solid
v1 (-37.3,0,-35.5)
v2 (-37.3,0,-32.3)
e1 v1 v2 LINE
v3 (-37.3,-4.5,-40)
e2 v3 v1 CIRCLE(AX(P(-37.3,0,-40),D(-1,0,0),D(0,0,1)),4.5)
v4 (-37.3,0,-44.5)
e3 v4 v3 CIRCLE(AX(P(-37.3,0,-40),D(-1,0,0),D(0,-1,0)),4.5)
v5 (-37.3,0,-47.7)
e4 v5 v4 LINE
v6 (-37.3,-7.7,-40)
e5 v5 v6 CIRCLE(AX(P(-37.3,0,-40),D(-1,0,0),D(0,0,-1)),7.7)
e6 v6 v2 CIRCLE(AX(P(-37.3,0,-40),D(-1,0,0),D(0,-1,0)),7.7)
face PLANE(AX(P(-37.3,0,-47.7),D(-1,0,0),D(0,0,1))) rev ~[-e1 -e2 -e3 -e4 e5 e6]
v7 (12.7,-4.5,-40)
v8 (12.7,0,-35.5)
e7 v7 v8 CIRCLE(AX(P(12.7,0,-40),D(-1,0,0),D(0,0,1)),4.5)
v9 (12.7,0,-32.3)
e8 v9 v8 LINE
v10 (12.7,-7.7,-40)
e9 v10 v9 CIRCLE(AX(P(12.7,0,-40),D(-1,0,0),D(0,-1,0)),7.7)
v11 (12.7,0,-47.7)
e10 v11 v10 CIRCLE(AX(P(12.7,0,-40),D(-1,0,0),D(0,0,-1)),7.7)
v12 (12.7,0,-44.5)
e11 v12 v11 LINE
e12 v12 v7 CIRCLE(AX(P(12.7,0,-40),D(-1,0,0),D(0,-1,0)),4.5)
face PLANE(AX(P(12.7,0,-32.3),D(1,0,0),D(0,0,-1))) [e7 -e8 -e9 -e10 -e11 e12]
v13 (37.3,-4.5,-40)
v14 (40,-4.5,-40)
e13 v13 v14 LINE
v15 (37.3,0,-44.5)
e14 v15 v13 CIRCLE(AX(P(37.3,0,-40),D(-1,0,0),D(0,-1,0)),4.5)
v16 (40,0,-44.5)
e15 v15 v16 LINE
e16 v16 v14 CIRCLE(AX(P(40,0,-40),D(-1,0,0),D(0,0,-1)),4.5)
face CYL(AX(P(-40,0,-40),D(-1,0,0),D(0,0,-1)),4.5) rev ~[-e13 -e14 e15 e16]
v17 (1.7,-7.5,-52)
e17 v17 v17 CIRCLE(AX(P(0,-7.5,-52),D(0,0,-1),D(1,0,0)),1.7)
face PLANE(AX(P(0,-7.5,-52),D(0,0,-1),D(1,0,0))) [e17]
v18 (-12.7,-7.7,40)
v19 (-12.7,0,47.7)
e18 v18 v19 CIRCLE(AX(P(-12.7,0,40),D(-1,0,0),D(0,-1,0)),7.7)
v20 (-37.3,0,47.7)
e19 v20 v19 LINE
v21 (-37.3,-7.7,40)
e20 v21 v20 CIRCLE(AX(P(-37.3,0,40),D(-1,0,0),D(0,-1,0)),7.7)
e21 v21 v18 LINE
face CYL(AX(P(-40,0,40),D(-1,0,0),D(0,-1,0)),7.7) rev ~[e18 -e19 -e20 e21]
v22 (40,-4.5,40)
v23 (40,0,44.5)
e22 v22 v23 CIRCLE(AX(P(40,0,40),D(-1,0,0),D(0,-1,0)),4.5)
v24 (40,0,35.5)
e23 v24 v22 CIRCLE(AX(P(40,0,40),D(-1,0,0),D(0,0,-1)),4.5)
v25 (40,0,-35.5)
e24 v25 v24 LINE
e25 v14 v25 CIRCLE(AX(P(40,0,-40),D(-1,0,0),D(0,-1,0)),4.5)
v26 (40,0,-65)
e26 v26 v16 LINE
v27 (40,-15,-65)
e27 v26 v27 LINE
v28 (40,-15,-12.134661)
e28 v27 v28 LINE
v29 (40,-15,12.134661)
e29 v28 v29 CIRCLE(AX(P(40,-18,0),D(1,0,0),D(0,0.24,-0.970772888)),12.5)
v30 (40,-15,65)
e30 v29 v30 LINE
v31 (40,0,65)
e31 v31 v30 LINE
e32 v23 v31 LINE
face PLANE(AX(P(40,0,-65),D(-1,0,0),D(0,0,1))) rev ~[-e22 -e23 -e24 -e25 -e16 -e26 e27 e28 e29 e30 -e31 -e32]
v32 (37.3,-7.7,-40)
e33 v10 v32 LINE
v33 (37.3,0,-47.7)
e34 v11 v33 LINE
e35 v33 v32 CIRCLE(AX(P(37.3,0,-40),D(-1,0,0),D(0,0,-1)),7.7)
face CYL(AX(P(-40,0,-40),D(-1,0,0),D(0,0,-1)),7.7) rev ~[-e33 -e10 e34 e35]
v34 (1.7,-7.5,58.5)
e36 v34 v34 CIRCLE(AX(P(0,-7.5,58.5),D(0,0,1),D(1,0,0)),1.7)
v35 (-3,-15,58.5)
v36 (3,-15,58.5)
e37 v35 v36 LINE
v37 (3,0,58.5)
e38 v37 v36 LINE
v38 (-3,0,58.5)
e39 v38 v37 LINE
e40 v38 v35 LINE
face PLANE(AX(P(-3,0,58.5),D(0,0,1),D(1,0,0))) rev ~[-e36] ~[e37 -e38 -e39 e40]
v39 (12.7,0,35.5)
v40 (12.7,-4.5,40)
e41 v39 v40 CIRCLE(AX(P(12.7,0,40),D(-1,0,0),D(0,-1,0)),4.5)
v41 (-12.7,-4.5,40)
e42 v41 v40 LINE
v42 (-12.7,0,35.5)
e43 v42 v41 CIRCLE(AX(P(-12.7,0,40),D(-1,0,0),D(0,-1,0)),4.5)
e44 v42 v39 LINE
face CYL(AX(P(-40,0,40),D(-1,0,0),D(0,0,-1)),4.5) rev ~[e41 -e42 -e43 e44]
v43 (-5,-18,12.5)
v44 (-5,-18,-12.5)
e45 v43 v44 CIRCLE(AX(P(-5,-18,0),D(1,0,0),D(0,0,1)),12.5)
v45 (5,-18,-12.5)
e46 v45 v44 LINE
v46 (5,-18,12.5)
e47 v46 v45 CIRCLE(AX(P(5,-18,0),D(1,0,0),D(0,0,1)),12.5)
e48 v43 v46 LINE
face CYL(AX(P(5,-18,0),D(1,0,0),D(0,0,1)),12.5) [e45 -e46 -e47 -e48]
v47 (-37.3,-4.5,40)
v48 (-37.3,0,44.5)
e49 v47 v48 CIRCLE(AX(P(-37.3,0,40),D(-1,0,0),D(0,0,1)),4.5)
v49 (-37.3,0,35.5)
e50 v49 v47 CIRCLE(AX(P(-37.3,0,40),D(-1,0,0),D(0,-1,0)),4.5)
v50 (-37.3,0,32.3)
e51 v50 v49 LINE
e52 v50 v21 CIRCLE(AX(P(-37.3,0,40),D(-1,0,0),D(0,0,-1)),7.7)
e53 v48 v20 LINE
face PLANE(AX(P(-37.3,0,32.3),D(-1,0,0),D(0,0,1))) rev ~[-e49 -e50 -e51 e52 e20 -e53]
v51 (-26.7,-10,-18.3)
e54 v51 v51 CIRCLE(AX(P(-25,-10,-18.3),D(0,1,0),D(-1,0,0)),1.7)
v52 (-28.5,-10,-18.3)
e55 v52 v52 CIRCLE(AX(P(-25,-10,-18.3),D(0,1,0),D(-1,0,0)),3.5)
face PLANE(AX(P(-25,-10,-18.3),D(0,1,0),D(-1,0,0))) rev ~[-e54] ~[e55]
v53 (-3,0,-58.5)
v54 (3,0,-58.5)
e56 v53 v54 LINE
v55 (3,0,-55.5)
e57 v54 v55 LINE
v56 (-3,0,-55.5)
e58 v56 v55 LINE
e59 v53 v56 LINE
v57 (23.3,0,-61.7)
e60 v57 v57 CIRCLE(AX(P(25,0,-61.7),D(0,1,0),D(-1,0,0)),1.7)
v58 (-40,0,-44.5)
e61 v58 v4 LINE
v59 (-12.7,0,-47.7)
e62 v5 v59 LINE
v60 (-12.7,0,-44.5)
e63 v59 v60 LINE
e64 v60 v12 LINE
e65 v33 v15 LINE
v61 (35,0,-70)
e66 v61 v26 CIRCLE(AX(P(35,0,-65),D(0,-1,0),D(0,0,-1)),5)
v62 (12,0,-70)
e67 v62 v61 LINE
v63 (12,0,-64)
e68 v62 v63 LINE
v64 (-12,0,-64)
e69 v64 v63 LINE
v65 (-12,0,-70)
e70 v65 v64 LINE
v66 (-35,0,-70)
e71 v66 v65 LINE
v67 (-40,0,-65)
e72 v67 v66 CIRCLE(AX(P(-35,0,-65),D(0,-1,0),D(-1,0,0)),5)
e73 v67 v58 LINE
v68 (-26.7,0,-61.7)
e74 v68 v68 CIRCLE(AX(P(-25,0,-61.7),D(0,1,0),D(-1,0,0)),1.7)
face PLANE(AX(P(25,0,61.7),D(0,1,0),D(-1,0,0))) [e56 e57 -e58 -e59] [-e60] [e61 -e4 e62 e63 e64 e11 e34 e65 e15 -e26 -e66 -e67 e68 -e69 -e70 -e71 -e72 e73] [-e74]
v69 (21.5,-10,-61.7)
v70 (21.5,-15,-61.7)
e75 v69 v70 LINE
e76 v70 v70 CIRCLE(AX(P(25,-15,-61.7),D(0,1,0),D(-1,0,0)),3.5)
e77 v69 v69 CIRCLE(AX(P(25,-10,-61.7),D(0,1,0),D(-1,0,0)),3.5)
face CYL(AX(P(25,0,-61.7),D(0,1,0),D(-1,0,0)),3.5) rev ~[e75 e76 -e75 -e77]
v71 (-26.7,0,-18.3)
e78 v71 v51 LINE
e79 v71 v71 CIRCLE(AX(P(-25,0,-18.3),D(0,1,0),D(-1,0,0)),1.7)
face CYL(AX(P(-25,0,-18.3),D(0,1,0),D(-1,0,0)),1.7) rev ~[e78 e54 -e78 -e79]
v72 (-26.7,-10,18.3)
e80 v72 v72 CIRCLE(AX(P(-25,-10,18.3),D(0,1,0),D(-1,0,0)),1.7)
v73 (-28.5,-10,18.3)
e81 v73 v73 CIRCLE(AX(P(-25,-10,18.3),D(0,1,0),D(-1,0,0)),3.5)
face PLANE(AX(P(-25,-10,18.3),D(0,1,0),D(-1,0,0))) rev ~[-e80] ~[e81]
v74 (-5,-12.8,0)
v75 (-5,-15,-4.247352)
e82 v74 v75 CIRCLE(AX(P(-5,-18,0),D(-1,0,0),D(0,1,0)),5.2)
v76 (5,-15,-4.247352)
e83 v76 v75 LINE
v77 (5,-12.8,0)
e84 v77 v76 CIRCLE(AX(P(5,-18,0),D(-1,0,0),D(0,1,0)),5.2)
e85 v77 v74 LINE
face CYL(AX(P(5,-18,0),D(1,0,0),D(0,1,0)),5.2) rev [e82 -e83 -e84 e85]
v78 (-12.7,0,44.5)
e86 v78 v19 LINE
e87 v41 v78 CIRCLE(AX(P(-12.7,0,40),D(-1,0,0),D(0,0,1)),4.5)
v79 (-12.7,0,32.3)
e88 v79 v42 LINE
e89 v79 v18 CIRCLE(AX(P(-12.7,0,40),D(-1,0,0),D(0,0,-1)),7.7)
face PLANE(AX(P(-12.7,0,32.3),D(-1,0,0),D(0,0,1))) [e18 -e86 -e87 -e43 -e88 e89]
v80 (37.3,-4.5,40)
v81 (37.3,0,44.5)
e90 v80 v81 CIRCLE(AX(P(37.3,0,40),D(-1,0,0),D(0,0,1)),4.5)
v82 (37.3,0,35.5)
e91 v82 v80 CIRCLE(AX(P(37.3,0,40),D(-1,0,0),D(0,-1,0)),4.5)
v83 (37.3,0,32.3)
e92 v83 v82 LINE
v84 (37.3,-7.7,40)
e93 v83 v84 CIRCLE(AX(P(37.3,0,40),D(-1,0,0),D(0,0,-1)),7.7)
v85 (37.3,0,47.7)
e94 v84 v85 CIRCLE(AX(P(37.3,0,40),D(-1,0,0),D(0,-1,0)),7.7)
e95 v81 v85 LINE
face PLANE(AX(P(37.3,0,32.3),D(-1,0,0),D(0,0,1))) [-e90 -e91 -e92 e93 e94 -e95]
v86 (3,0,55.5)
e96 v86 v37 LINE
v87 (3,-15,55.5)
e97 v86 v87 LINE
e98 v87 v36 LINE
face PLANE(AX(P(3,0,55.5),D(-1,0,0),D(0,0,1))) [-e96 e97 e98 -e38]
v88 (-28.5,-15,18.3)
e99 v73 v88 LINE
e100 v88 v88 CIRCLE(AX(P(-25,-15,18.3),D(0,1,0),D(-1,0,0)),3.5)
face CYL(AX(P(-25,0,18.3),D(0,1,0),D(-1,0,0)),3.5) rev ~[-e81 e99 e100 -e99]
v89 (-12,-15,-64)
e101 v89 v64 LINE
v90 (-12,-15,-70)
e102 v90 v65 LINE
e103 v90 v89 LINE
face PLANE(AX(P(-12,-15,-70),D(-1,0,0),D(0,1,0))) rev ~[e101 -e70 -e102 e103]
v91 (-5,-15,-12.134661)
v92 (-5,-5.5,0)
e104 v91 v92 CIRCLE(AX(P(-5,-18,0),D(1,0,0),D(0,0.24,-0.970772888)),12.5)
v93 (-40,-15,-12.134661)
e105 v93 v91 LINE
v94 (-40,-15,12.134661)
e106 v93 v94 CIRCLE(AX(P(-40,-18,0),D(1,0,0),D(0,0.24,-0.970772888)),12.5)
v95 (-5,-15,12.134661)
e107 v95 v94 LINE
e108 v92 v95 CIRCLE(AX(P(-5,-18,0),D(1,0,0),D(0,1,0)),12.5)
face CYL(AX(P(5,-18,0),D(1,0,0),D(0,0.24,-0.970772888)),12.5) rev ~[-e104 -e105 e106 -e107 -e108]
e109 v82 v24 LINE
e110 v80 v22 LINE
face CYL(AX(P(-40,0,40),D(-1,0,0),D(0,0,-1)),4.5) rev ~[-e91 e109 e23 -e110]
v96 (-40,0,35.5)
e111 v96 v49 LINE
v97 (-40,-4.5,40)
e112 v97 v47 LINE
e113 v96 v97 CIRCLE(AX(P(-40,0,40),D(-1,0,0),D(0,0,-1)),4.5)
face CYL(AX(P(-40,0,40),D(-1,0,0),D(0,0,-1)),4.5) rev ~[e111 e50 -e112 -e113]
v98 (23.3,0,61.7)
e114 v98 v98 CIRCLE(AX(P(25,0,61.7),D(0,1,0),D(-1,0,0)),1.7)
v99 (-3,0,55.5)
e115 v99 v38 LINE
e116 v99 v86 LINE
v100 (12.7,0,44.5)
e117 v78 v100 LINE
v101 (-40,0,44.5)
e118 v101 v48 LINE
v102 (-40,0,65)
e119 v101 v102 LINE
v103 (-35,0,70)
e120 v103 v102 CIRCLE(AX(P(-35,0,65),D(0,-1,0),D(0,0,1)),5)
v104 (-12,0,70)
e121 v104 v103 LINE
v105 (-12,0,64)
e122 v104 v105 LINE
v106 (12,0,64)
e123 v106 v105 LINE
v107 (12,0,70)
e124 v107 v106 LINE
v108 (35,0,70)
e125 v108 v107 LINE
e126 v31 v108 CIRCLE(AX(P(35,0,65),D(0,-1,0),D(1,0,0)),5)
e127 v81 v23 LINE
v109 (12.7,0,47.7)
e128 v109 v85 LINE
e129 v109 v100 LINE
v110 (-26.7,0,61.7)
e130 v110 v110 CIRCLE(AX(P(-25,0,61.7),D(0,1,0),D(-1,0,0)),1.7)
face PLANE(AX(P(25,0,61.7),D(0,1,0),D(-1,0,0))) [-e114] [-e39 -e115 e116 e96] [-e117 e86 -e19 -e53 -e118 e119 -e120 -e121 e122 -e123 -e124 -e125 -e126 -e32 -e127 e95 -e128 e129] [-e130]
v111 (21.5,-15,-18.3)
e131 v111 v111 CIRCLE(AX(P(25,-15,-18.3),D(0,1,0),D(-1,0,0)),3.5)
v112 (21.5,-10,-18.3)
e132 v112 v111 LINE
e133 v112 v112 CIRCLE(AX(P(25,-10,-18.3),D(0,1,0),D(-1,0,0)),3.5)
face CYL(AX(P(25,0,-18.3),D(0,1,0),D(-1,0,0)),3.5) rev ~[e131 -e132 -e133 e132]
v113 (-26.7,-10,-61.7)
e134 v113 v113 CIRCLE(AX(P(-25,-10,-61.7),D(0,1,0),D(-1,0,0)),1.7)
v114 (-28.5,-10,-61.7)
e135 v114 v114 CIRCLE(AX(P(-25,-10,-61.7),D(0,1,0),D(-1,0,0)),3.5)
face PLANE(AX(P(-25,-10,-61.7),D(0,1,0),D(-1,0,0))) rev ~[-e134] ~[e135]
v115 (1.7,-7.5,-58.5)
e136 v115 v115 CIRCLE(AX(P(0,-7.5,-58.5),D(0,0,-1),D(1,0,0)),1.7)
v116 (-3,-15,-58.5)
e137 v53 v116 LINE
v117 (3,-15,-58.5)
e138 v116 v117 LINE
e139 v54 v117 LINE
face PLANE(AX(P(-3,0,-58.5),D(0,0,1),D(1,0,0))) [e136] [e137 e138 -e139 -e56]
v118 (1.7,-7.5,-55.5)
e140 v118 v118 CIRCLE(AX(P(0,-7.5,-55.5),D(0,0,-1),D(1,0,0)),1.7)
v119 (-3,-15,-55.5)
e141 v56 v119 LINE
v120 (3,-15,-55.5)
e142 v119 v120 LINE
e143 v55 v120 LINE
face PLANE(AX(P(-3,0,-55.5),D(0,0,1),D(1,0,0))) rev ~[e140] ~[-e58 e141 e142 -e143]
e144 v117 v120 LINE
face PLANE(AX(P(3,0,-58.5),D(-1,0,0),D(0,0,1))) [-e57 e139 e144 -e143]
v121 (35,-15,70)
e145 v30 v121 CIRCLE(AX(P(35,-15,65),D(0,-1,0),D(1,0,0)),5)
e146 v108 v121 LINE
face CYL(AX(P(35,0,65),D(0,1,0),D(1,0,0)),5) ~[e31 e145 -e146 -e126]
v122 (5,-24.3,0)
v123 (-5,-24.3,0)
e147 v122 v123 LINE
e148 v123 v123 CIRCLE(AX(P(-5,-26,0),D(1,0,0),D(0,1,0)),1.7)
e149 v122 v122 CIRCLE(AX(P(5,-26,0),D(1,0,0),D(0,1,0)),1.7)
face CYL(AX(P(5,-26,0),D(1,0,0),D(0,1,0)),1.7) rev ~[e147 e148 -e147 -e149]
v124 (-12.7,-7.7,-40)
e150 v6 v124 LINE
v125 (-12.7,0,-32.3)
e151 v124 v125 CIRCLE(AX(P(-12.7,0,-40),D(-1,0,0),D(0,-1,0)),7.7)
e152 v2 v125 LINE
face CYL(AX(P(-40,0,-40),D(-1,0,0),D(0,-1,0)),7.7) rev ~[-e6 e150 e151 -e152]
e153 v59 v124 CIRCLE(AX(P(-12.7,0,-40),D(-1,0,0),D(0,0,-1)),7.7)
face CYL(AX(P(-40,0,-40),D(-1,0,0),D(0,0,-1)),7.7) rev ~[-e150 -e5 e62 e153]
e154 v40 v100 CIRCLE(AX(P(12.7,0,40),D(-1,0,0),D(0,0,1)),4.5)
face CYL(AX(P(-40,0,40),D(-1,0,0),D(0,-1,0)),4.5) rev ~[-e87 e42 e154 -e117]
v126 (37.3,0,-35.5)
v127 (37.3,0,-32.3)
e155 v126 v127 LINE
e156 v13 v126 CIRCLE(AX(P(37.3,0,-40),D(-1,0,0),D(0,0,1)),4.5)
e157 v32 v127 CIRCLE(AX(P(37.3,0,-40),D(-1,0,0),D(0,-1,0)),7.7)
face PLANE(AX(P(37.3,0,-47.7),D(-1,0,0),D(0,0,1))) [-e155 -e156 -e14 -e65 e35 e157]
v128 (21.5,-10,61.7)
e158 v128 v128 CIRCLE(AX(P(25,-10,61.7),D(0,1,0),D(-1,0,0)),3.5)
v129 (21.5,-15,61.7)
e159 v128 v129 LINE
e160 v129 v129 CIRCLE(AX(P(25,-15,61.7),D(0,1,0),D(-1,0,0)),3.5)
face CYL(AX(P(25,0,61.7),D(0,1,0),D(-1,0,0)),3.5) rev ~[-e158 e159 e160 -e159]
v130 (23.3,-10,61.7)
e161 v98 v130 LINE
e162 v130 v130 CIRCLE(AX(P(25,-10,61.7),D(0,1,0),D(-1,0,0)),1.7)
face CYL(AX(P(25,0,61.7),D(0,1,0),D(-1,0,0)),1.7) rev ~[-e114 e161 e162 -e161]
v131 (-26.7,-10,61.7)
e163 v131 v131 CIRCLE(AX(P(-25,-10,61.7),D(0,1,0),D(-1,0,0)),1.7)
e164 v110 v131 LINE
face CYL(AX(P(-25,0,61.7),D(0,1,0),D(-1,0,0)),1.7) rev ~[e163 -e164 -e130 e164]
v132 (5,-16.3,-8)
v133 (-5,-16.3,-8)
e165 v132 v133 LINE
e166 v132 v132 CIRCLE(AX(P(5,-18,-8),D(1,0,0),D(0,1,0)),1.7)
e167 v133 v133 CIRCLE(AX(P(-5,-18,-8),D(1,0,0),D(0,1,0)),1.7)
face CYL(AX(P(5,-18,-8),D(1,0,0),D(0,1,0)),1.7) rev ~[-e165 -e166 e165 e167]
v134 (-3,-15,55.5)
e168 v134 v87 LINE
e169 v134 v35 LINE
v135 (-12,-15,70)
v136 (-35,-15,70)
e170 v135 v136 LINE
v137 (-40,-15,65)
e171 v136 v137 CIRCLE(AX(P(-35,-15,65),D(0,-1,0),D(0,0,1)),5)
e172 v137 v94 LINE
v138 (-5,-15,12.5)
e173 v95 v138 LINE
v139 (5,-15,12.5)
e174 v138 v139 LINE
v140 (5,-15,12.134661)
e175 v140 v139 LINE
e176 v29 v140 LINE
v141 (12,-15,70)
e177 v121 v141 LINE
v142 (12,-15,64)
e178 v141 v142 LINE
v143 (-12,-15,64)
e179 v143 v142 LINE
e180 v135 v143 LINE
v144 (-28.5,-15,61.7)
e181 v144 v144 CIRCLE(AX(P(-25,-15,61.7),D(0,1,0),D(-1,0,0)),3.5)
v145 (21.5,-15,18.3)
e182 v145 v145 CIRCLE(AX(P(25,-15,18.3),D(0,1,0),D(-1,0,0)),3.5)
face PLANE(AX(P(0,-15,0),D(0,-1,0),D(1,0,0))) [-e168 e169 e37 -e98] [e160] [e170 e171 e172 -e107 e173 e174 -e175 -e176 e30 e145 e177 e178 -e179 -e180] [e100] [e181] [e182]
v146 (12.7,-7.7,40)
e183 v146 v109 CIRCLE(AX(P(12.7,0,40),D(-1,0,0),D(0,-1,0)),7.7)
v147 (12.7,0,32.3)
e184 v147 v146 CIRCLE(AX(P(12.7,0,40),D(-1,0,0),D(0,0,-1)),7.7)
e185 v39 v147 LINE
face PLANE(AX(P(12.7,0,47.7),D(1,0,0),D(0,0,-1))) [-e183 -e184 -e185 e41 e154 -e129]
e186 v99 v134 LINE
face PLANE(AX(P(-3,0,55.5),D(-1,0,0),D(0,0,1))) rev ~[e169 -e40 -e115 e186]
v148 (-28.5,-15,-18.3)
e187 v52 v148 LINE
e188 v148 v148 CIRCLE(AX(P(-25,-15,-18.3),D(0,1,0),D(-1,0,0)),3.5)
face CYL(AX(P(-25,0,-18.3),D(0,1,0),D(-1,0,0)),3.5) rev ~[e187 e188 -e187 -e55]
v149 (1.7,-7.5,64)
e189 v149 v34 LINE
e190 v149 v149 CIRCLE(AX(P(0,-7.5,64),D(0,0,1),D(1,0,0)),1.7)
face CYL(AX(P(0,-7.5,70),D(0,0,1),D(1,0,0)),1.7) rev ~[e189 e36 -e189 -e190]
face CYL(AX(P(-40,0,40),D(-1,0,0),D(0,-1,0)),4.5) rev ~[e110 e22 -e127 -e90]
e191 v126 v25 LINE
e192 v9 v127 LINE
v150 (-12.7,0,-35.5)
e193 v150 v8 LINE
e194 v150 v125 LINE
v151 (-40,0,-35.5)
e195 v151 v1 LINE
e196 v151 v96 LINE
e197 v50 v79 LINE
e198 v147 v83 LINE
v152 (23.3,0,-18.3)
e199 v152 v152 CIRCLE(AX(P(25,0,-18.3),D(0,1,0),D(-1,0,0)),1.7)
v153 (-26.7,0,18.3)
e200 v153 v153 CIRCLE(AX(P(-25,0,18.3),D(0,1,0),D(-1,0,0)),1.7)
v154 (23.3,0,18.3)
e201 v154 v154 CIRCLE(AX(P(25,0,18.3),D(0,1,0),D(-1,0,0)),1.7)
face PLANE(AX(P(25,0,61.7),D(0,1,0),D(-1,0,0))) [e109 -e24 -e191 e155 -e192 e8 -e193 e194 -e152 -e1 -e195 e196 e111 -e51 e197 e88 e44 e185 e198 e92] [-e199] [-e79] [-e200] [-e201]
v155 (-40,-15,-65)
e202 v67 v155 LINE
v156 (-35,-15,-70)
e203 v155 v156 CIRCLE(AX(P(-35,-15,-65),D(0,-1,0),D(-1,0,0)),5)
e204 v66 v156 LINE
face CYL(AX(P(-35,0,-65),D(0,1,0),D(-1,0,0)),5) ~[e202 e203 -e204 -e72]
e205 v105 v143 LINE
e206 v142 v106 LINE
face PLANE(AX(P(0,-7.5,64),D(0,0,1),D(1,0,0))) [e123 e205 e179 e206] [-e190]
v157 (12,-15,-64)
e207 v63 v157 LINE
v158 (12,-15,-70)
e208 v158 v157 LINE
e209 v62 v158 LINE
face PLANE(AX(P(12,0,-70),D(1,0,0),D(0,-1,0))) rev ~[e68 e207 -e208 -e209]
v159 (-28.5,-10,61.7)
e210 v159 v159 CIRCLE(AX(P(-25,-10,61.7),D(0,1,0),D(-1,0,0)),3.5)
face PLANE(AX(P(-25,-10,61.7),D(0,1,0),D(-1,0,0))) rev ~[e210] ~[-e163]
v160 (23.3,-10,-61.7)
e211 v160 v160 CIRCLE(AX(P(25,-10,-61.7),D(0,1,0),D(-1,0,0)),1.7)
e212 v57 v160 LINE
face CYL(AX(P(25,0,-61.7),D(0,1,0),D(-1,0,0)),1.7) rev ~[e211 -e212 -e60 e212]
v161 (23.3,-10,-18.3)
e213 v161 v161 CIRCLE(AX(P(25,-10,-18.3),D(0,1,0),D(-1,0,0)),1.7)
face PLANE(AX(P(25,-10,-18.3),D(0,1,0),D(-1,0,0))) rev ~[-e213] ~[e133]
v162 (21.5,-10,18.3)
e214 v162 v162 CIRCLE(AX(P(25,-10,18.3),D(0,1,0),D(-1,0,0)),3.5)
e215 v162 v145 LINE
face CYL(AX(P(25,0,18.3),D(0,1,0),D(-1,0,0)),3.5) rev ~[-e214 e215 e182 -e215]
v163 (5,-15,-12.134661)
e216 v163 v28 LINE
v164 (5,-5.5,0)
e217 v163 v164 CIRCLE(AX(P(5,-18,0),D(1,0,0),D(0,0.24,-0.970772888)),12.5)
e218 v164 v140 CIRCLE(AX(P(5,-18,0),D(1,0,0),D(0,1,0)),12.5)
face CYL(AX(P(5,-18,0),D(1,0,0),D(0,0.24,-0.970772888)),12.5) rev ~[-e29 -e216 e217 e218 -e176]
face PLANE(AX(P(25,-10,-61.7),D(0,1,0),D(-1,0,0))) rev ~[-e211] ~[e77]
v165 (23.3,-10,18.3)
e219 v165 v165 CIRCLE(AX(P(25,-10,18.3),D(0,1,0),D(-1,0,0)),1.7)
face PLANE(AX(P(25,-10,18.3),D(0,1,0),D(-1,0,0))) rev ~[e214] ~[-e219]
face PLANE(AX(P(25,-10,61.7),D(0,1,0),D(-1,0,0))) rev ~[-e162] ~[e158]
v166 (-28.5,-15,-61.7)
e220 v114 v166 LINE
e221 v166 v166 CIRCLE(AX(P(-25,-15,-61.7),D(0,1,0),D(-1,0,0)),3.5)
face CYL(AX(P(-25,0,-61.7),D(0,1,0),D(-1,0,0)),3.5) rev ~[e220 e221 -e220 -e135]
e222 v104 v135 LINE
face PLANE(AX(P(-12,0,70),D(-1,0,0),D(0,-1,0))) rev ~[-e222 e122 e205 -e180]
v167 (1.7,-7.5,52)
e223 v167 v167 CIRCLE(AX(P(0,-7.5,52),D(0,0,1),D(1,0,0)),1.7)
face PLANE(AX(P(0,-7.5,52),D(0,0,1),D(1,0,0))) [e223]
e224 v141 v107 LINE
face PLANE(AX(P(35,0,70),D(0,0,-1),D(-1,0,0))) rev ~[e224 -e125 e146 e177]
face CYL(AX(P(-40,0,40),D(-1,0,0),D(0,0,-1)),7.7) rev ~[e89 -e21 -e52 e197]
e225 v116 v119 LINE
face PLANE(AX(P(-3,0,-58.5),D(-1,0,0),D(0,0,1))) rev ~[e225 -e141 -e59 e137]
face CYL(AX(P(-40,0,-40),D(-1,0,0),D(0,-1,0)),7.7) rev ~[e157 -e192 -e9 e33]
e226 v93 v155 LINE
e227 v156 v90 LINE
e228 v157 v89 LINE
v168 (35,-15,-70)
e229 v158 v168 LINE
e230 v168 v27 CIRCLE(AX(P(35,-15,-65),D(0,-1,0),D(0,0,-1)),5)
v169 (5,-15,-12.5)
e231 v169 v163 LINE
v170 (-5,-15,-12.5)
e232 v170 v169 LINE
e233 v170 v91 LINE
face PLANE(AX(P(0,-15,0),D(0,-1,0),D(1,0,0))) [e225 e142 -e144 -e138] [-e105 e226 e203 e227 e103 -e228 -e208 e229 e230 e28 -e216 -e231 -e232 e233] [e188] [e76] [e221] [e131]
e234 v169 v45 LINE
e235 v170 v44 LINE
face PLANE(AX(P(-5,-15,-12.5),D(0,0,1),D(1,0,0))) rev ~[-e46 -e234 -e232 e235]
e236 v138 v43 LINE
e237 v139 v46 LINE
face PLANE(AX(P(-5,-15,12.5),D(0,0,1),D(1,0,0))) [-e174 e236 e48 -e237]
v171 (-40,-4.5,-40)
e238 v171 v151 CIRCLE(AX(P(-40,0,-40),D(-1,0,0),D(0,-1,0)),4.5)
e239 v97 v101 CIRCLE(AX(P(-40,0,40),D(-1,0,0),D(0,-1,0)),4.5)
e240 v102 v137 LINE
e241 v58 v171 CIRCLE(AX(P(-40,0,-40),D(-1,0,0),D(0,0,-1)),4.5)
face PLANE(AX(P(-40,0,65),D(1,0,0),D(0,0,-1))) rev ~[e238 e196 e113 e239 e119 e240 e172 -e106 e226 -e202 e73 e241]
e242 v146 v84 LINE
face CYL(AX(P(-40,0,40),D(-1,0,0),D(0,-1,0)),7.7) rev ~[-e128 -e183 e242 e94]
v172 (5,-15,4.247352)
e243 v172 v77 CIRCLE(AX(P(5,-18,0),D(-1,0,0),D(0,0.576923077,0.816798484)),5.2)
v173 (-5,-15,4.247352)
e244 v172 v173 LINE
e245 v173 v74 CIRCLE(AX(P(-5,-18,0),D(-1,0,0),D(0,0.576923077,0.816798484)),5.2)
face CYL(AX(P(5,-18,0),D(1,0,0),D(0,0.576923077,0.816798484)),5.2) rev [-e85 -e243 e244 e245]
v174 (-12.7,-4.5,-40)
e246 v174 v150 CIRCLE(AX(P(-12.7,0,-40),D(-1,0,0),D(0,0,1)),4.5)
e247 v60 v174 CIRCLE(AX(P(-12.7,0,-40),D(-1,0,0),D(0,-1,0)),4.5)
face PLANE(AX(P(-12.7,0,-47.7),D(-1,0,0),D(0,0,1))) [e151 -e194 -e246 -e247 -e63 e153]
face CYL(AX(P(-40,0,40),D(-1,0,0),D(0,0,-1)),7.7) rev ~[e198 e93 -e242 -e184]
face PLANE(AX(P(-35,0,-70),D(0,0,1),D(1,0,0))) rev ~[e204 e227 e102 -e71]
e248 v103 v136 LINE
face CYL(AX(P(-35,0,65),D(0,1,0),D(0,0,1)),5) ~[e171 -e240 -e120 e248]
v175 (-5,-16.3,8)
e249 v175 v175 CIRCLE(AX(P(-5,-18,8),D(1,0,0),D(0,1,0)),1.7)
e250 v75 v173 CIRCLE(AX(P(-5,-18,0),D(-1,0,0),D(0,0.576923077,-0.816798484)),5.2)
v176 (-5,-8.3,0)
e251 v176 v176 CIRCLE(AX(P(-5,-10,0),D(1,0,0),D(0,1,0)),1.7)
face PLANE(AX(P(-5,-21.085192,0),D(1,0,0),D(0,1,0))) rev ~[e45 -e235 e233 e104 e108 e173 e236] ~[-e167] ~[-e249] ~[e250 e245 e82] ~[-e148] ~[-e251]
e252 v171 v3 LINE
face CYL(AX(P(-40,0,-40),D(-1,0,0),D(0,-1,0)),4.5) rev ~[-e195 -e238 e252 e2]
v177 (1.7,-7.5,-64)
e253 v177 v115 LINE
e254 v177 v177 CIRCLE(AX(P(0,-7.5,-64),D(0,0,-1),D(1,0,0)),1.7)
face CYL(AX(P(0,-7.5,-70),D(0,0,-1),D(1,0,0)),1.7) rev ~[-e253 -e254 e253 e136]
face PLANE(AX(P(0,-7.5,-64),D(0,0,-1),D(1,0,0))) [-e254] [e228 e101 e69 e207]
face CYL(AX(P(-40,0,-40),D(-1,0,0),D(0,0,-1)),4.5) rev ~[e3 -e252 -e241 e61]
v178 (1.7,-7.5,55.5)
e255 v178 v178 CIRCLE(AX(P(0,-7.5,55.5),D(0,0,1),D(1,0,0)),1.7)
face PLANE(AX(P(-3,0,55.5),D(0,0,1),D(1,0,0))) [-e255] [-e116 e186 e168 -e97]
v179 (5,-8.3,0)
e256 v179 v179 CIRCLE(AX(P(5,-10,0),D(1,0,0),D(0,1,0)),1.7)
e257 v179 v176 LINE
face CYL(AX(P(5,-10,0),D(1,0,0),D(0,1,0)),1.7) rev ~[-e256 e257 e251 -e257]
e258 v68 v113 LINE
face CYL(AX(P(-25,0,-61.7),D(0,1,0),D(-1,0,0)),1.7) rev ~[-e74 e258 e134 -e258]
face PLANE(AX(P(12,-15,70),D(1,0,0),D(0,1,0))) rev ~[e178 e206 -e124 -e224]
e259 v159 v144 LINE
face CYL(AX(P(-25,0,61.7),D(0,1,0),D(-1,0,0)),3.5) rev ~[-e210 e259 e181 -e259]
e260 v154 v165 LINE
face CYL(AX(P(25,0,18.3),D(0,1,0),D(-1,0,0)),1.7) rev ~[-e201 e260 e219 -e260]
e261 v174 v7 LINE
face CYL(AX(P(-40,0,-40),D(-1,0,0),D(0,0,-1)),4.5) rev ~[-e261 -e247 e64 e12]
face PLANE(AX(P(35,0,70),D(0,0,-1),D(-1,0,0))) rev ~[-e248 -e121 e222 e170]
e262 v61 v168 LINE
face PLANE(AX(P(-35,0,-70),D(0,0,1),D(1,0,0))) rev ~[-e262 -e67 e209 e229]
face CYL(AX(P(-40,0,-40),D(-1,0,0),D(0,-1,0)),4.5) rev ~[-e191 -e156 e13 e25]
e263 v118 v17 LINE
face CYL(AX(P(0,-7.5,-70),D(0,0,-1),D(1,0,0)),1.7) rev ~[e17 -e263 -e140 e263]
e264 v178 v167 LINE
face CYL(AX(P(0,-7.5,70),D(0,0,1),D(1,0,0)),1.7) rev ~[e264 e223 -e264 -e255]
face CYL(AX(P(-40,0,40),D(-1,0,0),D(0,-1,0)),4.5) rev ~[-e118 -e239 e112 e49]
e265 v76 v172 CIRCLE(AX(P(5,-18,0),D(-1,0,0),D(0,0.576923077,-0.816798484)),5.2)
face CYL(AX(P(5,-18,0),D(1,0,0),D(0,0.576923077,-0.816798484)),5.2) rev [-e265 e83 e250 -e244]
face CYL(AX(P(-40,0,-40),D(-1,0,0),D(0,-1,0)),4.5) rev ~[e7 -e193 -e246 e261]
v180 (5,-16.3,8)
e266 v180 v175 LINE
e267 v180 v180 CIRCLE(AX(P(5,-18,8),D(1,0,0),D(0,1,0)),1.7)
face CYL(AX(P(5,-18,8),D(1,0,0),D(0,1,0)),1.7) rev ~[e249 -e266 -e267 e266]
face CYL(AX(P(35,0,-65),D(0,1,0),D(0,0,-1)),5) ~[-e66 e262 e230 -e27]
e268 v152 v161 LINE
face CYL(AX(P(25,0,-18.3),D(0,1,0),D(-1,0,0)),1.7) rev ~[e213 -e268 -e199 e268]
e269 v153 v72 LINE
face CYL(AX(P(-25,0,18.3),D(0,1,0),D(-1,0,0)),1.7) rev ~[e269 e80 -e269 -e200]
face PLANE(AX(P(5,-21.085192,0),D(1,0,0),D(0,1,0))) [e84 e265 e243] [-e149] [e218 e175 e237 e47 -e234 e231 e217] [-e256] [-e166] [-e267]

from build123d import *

# Parameters (mm, degrees)
F0_W      = 6
F0_H      = 3
F1_DEPTH  = 15
F4_DEPTH  = 80
F2_W      = 2.7
F2_H      = 15.4
F5_DEPTH  = 10
F2_R      = 1.7
F6_DEPTH  = 25
F2_R_2    = 3.5
F7_DEPTH  = 25
F8_DEPTH  = 10
F9_W      = 10
F9_H      = 25
F10_DEPTH = 25
F11_R     = 1.7
F13_DEPTH = 50
F14_DEPTH = 50
F12_R     = 1.7
F15_DEPTH = 6
F16_DEPTH = 10
F17_DEPTH = 18
F18_R     = 1.7
F19_DEPTH = 6
F20_DEPTH = 25
F21_DEPTH = 18
F22_DEPTH = 80


with BuildPart() as f1:
    # F0 (on Front) → F1 (new body)
    with BuildSketch(Plane.XZ):
        with BuildLine():
            Line((35, 70), (-35, 70))
            ThreePointArc((-35, 70), (-38.5355339059, 68.5355339059), (-40, 65))
            Line((-40, 65), (-40, -65))
            ThreePointArc((-40, -65), (-38.5355339059, -68.5355339059), (-35, -70))
            Line((-35, -70), (35, -70))
            ThreePointArc((35, -70), (38.5355339059, -68.5355339059), (40, -65))
            Line((40, -65), (40, 65))
            ThreePointArc((40, 65), (38.5355339059, 68.5355339059), (35, 70))
        make_face()
        with Locations((0, -57)):
            Rectangle(F0_W, F0_H, mode=Mode.SUBTRACT)
        with Locations((0, 57)):
            Rectangle(F0_W, F0_H, mode=Mode.SUBTRACT)
    extrude(amount=F1_DEPTH)

    # F3 (on face) → F4 (cut)
    with BuildSketch(Plane(origin=(-40, 0, 0), x_dir=(0, -1, 0), z_dir=(-1, 0, 0))):
        with BuildLine():
            ThreePointArc((0, 32.3), (5.4447222151, 34.5552777849), (7.7, 40))
            ThreePointArc((7.7, 40), (5.4447222151, 45.4447222151), (0, 47.7))
            Line((0, 47.7), (0, 44.5))
            ThreePointArc((0, 44.5), (3.1819805153, 43.1819805153), (4.5, 40))
            ThreePointArc((4.5, 40), (3.1819805153, 36.8180194847), (0, 35.5))
            Line((0, 35.5), (0, 32.3))
        make_face()
        with BuildLine():
            ThreePointArc((7.7, -40), (5.4447222151, -34.5552777849), (0, -32.3))
            Line((0, -32.3), (0, -35.5))
            ThreePointArc((0, -35.5), (3.1819805153, -36.8180194847), (4.5, -40))
            ThreePointArc((4.5, -40), (3.1819805153, -43.1819805153), (0, -44.5))
            Line((0, -44.5), (0, -47.7))
            ThreePointArc((0, -47.7), (5.4447222151, -45.4447222151), (7.7, -40))
        make_face()
    extrude(amount=-F4_DEPTH, mode=Mode.SUBTRACT)

    # F2 (on face) → F5 (join)
    with BuildSketch(Plane(origin=(0, 0, 0), x_dir=(-1, 0, 0), z_dir=(0, 1, 0))):
        with Locations((-38.65, 40)):
            Rectangle(F2_W, F2_H)
        Polygon((12.7, 47.7), (0, 47.7), (-12.7, 47.7), (-12.7, 32.3), (0, 32.3), (12.7, 32.3), align=None)
        with Locations((38.65, 40)):
            Rectangle(F2_W, F2_H)
        with Locations((-38.65, -40)):
            Rectangle(F2_W, F2_H)
        Polygon((0, -32.3), (-12.7, -32.3), (-12.7, -47.7), (0, -47.7), (12.7, -47.7), (12.7, -32.3), align=None)
        with Locations((38.65, -40)):
            Rectangle(F2_W, F2_H)
    extrude(amount=-F5_DEPTH)

    # F2 (on face) → F6 (cut)
    with BuildSketch(Plane(origin=(0, 0, 0), x_dir=(-1, 0, 0), z_dir=(0, 1, 0))):
        with Locations((-25, 61.7)):
            Circle(F2_R)
        with Locations((25, 61.7)):
            Circle(F2_R)
        with Locations((-25, 18.3)):
            Circle(F2_R)
        with Locations((25, 18.3)):
            Circle(F2_R)
        with Locations((-25, -18.3)):
            Circle(F2_R)
        with Locations((25, -18.3)):
            Circle(F2_R)
        with Locations((-25, -61.7)):
            Circle(F2_R)
        with Locations((25, -61.7)):
            Circle(F2_R)
    extrude(amount=-F6_DEPTH, mode=Mode.SUBTRACT)

    # F2 (on face) → F7 (cut)
    with BuildSketch(Plane(origin=(0, 0, 0), x_dir=(-1, 0, 0), z_dir=(0, 1, 0))):
        with Locations((-25, 61.7)):
            Circle(F2_R_2)
        with Locations((-25, 61.7)):
            Circle(F2_R, mode=Mode.SUBTRACT)
        with Locations((25, 61.7)):
            Circle(F2_R_2)
        with Locations((25, 61.7)):
            Circle(F2_R, mode=Mode.SUBTRACT)
        with Locations((-25, 18.3)):
            Circle(F2_R_2)
        with Locations((-25, 18.3)):
            Circle(F2_R, mode=Mode.SUBTRACT)
        with Locations((25, 18.3)):
            Circle(F2_R_2)
        with Locations((25, 18.3)):
            Circle(F2_R, mode=Mode.SUBTRACT)
        with Locations((-25, -18.3)):
            Circle(F2_R_2)
        with Locations((-25, -18.3)):
            Circle(F2_R, mode=Mode.SUBTRACT)
        with Locations((25, -18.3)):
            Circle(F2_R_2)
        with Locations((25, -18.3)):
            Circle(F2_R, mode=Mode.SUBTRACT)
        with Locations((-25, -61.7)):
            Circle(F2_R_2)
        with Locations((-25, -61.7)):
            Circle(F2_R, mode=Mode.SUBTRACT)
        with Locations((25, -61.7)):
            Circle(F2_R_2)
        with Locations((25, -61.7)):
            Circle(F2_R, mode=Mode.SUBTRACT)
    extrude(amount=-F7_DEPTH, mode=Mode.SUBTRACT)

    # F2 (on face) → F8 (join)
    with BuildSketch(Plane(origin=(0, 0, 0), x_dir=(-1, 0, 0), z_dir=(0, 1, 0))):
        with Locations((-25, 61.7)):
            Circle(F2_R_2)
        with Locations((-25, 61.7)):
            Circle(F2_R, mode=Mode.SUBTRACT)
        with Locations((25, 61.7)):
            Circle(F2_R_2)
        with Locations((25, 61.7)):
            Circle(F2_R, mode=Mode.SUBTRACT)
        with Locations((-25, 18.3)):
            Circle(F2_R_2)
        with Locations((-25, 18.3)):
            Circle(F2_R, mode=Mode.SUBTRACT)
        with Locations((25, 18.3)):
            Circle(F2_R_2)
        with Locations((25, 18.3)):
            Circle(F2_R, mode=Mode.SUBTRACT)
        with Locations((-25, -18.3)):
            Circle(F2_R_2)
        with Locations((-25, -18.3)):
            Circle(F2_R, mode=Mode.SUBTRACT)
        with Locations((25, -18.3)):
            Circle(F2_R_2)
        with Locations((25, -18.3)):
            Circle(F2_R, mode=Mode.SUBTRACT)
        with Locations((-25, -61.7)):
            Circle(F2_R_2)
        with Locations((-25, -61.7)):
            Circle(F2_R, mode=Mode.SUBTRACT)
        with Locations((25, -61.7)):
            Circle(F2_R_2)
        with Locations((25, -61.7)):
            Circle(F2_R, mode=Mode.SUBTRACT)
    extrude(amount=-F8_DEPTH)

    # F9 (on face) → F10 (join)
    with BuildSketch(Plane.XZ.offset(15)):
        Rectangle(F9_W, F9_H)
    extrude(amount=F10_DEPTH)

    # F11 (on face) → F13 (cut, symmetric)
    with BuildSketch(Plane.YZ.offset(5)):
        with BuildLine():
            ThreePointArc((-15, -4.2473521163), (-13.3826414478, -2.3916521486), (-12.8, 0))
            ThreePointArc((-12.8, 0), (-13.3826414478, 2.3916521486), (-15, 4.2473521163))
            Line((-15, 4.2473521163), (-15, -4.2473521163))
        make_face()
        with BuildLine():
            Line((-15, -4.2473521163), (-15, 4.2473521163))
            ThreePointArc((-15, 4.2473521163), (-23.2, 0), (-15, -4.2473521163))
        make_face()
        with Locations((-18, 8)):
            Circle(F11_R)
        with Locations((-26, 0)):
            Circle(F11_R)
        with Locations((-18, -8)):
            Circle(F11_R)
        with Locations((-10, 0)):
            Circle(F11_R)
        with BuildLine():
            ThreePointArc((-18, -12.5), (-30.5, 0), (-18, 12.5))
            Line((-18, 12.5), (-40, 12.5))
            Line((-40, 12.5), (-40, -12.5))
            Line((-40, -12.5), (-18, -12.5))
        make_face()
    extrude(amount=F13_DEPTH, both=True, mode=Mode.SUBTRACT)

    # F11 (on face) → F14 (cut, symmetric)
    with BuildSketch(Plane.YZ.offset(5)):
        with BuildLine():
            ThreePointArc((-15, -4.2473521163), (-23.2, 0), (-15, 4.2473521163))
            Line((-15, 4.2473521163), (-15, 12.1346610995))
            ThreePointArc((-15, 12.1346610995), (-16.4889182259, 12.408329133), (-18, 12.5))
            ThreePointArc((-18, 12.5), (-30.5, 0), (-18, -12.5))
            ThreePointArc((-18, -12.5), (-16.4889182259, -12.408329133), (-15, -12.1346610995))
            Line((-15, -12.1346610995), (-15, -4.2473521163))
        make_face()
        with Locations((-18, -8)):
            Circle(F11_R, mode=Mode.SUBTRACT)
        with Locations((-26, 0)):
            Circle(F11_R, mode=Mode.SUBTRACT)
        with Locations((-18, 8)):
            Circle(F11_R, mode=Mode.SUBTRACT)
        with BuildLine():
            ThreePointArc((-15, 4.2473521163), (-13.3826414478, 2.3916521486), (-12.8, 0))
            ThreePointArc((-12.8, 0), (-13.3826414478, -2.3916521486), (-15, -4.2473521163))
            Line((-15, -4.2473521163), (-15, -12.1346610995))
            ThreePointArc((-15, -12.1346610995), (-8.1574901575, -7.7055175037), (-5.5, 0))
            ThreePointArc((-5.5, 0), (-8.1574901575, 7.7055175037), (-15, 12.1346610995))
            Line((-15, 12.1346610995), (-15, 4.2473521163))
        make_face()
        with Locations((-10, 0)):
            Circle(F11_R, mode=Mode.SUBTRACT)
    extrude(amount=F14_DEPTH, both=True, mode=Mode.SUBTRACT)

    # F12 (on face) → F15 (cut)
    with BuildSketch(Plane.XY.offset(70)):
        Polygon((12, 0), (0, 0), (-12, 0), (-12, -15), (12, -15), align=None)
        with Locations((0, -7.5)):
            Circle(F12_R, mode=Mode.SUBTRACT)
    extrude(amount=-F15_DEPTH, mode=Mode.SUBTRACT)

    # F11 (on face) → F16 (join)
    with BuildSketch(Plane.YZ.offset(5)):
        with BuildLine():
            ThreePointArc((-15, -4.2473521163), (-23.2, 0), (-15, 4.2473521163))
            Line((-15, 4.2473521163), (-15, 12.1346610995))
            ThreePointArc((-15, 12.1346610995), (-16.4889182259, 12.408329133), (-18, 12.5))
            ThreePointArc((-18, 12.5), (-30.5, 0), (-18, -12.5))
            ThreePointArc((-18, -12.5), (-16.4889182259, -12.408329133), (-15, -12.1346610995))
            Line((-15, -12.1346610995), (-15, -4.2473521163))
        make_face()
        with Locations((-18, -8)):
            Circle(F11_R, mode=Mode.SUBTRACT)
        with Locations((-26, 0)):
            Circle(F11_R, mode=Mode.SUBTRACT)
        with Locations((-18, 8)):
            Circle(F11_R, mode=Mode.SUBTRACT)
        with BuildLine():
            ThreePointArc((-15, 4.2473521163), (-13.3826414478, 2.3916521486), (-12.8, 0))
            ThreePointArc((-12.8, 0), (-13.3826414478, -2.3916521486), (-15, -4.2473521163))
            Line((-15, -4.2473521163), (-15, -12.1346610995))
            ThreePointArc((-15, -12.1346610995), (-8.1574901575, -7.7055175037), (-5.5, 0))
            ThreePointArc((-5.5, 0), (-8.1574901575, 7.7055175037), (-15, 12.1346610995))
            Line((-15, 12.1346610995), (-15, 4.2473521163))
        make_face()
        with Locations((-10, 0)):
            Circle(F11_R, mode=Mode.SUBTRACT)
    extrude(amount=-F16_DEPTH)

    # F12 (on face) → F17 (cut)
    with BuildSketch(Plane.XY.offset(70)):
        with Locations((0, -7.5)):
            Circle(F12_R)
    extrude(amount=-F17_DEPTH, mode=Mode.SUBTRACT)

    # F18 (on face) → F19 (cut)
    with BuildSketch(Plane(origin=(0, 0, -70), x_dir=(1, 0, 0), z_dir=(0, 0, -1))):
        Polygon((-12, 0), (0, 0), (12, 0), (12, 15), (-12, 15), align=None)
        with Locations((0, 7.5)):
            Circle(F18_R, mode=Mode.SUBTRACT)
    extrude(amount=-F19_DEPTH, mode=Mode.SUBTRACT)

    # F0 (on Front) → F20 (cut)
    with BuildSketch(Plane.XZ):
        with Locations((0, -57)):
            Rectangle(F0_W, F0_H)
    extrude(amount=-F20_DEPTH, mode=Mode.SUBTRACT)

    # F18 (on face) → F21 (cut)
    with BuildSketch(Plane(origin=(0, 0, -70), x_dir=(1, 0, 0), z_dir=(0, 0, -1))):
        with Locations((0, 7.5)):
            Circle(F18_R)
    extrude(amount=-F21_DEPTH, mode=Mode.SUBTRACT)

    # F3 (on face) → F22 (cut)
    with BuildSketch(Plane(origin=(-40, 0, 0), x_dir=(0, -1, 0), z_dir=(-1, 0, 0))):
        with BuildLine():
            ThreePointArc((4.5, -40), (3.1819805153, -36.8180194847), (0, -35.5))
            Line((0, -35.5), (0, -44.5))
            ThreePointArc((0, -44.5), (3.1819805153, -43.1819805153), (4.5, -40))
        make_face()
        with BuildLine():
            Line((0, -44.5), (0, -35.5))
            ThreePointArc((0, -35.5), (-4.5, -40), (0, -44.5))
        make_face()
        with BuildLine():
            Line((0, 35.5), (0, 44.5))
            ThreePointArc((0, 44.5), (-4.5, 40), (0, 35.5))
        make_face()
        with BuildLine():
            ThreePointArc((4.5, 40), (3.1819805153, 43.1819805153), (0, 44.5))
            Line((0, 44.5), (0, 35.5))
            ThreePointArc((0, 35.5), (3.1819805153, 36.8180194847), (4.5, 40))
        make_face()
    extrude(amount=-F22_DEPTH, mode=Mode.SUBTRACT)


solid = f1.part
